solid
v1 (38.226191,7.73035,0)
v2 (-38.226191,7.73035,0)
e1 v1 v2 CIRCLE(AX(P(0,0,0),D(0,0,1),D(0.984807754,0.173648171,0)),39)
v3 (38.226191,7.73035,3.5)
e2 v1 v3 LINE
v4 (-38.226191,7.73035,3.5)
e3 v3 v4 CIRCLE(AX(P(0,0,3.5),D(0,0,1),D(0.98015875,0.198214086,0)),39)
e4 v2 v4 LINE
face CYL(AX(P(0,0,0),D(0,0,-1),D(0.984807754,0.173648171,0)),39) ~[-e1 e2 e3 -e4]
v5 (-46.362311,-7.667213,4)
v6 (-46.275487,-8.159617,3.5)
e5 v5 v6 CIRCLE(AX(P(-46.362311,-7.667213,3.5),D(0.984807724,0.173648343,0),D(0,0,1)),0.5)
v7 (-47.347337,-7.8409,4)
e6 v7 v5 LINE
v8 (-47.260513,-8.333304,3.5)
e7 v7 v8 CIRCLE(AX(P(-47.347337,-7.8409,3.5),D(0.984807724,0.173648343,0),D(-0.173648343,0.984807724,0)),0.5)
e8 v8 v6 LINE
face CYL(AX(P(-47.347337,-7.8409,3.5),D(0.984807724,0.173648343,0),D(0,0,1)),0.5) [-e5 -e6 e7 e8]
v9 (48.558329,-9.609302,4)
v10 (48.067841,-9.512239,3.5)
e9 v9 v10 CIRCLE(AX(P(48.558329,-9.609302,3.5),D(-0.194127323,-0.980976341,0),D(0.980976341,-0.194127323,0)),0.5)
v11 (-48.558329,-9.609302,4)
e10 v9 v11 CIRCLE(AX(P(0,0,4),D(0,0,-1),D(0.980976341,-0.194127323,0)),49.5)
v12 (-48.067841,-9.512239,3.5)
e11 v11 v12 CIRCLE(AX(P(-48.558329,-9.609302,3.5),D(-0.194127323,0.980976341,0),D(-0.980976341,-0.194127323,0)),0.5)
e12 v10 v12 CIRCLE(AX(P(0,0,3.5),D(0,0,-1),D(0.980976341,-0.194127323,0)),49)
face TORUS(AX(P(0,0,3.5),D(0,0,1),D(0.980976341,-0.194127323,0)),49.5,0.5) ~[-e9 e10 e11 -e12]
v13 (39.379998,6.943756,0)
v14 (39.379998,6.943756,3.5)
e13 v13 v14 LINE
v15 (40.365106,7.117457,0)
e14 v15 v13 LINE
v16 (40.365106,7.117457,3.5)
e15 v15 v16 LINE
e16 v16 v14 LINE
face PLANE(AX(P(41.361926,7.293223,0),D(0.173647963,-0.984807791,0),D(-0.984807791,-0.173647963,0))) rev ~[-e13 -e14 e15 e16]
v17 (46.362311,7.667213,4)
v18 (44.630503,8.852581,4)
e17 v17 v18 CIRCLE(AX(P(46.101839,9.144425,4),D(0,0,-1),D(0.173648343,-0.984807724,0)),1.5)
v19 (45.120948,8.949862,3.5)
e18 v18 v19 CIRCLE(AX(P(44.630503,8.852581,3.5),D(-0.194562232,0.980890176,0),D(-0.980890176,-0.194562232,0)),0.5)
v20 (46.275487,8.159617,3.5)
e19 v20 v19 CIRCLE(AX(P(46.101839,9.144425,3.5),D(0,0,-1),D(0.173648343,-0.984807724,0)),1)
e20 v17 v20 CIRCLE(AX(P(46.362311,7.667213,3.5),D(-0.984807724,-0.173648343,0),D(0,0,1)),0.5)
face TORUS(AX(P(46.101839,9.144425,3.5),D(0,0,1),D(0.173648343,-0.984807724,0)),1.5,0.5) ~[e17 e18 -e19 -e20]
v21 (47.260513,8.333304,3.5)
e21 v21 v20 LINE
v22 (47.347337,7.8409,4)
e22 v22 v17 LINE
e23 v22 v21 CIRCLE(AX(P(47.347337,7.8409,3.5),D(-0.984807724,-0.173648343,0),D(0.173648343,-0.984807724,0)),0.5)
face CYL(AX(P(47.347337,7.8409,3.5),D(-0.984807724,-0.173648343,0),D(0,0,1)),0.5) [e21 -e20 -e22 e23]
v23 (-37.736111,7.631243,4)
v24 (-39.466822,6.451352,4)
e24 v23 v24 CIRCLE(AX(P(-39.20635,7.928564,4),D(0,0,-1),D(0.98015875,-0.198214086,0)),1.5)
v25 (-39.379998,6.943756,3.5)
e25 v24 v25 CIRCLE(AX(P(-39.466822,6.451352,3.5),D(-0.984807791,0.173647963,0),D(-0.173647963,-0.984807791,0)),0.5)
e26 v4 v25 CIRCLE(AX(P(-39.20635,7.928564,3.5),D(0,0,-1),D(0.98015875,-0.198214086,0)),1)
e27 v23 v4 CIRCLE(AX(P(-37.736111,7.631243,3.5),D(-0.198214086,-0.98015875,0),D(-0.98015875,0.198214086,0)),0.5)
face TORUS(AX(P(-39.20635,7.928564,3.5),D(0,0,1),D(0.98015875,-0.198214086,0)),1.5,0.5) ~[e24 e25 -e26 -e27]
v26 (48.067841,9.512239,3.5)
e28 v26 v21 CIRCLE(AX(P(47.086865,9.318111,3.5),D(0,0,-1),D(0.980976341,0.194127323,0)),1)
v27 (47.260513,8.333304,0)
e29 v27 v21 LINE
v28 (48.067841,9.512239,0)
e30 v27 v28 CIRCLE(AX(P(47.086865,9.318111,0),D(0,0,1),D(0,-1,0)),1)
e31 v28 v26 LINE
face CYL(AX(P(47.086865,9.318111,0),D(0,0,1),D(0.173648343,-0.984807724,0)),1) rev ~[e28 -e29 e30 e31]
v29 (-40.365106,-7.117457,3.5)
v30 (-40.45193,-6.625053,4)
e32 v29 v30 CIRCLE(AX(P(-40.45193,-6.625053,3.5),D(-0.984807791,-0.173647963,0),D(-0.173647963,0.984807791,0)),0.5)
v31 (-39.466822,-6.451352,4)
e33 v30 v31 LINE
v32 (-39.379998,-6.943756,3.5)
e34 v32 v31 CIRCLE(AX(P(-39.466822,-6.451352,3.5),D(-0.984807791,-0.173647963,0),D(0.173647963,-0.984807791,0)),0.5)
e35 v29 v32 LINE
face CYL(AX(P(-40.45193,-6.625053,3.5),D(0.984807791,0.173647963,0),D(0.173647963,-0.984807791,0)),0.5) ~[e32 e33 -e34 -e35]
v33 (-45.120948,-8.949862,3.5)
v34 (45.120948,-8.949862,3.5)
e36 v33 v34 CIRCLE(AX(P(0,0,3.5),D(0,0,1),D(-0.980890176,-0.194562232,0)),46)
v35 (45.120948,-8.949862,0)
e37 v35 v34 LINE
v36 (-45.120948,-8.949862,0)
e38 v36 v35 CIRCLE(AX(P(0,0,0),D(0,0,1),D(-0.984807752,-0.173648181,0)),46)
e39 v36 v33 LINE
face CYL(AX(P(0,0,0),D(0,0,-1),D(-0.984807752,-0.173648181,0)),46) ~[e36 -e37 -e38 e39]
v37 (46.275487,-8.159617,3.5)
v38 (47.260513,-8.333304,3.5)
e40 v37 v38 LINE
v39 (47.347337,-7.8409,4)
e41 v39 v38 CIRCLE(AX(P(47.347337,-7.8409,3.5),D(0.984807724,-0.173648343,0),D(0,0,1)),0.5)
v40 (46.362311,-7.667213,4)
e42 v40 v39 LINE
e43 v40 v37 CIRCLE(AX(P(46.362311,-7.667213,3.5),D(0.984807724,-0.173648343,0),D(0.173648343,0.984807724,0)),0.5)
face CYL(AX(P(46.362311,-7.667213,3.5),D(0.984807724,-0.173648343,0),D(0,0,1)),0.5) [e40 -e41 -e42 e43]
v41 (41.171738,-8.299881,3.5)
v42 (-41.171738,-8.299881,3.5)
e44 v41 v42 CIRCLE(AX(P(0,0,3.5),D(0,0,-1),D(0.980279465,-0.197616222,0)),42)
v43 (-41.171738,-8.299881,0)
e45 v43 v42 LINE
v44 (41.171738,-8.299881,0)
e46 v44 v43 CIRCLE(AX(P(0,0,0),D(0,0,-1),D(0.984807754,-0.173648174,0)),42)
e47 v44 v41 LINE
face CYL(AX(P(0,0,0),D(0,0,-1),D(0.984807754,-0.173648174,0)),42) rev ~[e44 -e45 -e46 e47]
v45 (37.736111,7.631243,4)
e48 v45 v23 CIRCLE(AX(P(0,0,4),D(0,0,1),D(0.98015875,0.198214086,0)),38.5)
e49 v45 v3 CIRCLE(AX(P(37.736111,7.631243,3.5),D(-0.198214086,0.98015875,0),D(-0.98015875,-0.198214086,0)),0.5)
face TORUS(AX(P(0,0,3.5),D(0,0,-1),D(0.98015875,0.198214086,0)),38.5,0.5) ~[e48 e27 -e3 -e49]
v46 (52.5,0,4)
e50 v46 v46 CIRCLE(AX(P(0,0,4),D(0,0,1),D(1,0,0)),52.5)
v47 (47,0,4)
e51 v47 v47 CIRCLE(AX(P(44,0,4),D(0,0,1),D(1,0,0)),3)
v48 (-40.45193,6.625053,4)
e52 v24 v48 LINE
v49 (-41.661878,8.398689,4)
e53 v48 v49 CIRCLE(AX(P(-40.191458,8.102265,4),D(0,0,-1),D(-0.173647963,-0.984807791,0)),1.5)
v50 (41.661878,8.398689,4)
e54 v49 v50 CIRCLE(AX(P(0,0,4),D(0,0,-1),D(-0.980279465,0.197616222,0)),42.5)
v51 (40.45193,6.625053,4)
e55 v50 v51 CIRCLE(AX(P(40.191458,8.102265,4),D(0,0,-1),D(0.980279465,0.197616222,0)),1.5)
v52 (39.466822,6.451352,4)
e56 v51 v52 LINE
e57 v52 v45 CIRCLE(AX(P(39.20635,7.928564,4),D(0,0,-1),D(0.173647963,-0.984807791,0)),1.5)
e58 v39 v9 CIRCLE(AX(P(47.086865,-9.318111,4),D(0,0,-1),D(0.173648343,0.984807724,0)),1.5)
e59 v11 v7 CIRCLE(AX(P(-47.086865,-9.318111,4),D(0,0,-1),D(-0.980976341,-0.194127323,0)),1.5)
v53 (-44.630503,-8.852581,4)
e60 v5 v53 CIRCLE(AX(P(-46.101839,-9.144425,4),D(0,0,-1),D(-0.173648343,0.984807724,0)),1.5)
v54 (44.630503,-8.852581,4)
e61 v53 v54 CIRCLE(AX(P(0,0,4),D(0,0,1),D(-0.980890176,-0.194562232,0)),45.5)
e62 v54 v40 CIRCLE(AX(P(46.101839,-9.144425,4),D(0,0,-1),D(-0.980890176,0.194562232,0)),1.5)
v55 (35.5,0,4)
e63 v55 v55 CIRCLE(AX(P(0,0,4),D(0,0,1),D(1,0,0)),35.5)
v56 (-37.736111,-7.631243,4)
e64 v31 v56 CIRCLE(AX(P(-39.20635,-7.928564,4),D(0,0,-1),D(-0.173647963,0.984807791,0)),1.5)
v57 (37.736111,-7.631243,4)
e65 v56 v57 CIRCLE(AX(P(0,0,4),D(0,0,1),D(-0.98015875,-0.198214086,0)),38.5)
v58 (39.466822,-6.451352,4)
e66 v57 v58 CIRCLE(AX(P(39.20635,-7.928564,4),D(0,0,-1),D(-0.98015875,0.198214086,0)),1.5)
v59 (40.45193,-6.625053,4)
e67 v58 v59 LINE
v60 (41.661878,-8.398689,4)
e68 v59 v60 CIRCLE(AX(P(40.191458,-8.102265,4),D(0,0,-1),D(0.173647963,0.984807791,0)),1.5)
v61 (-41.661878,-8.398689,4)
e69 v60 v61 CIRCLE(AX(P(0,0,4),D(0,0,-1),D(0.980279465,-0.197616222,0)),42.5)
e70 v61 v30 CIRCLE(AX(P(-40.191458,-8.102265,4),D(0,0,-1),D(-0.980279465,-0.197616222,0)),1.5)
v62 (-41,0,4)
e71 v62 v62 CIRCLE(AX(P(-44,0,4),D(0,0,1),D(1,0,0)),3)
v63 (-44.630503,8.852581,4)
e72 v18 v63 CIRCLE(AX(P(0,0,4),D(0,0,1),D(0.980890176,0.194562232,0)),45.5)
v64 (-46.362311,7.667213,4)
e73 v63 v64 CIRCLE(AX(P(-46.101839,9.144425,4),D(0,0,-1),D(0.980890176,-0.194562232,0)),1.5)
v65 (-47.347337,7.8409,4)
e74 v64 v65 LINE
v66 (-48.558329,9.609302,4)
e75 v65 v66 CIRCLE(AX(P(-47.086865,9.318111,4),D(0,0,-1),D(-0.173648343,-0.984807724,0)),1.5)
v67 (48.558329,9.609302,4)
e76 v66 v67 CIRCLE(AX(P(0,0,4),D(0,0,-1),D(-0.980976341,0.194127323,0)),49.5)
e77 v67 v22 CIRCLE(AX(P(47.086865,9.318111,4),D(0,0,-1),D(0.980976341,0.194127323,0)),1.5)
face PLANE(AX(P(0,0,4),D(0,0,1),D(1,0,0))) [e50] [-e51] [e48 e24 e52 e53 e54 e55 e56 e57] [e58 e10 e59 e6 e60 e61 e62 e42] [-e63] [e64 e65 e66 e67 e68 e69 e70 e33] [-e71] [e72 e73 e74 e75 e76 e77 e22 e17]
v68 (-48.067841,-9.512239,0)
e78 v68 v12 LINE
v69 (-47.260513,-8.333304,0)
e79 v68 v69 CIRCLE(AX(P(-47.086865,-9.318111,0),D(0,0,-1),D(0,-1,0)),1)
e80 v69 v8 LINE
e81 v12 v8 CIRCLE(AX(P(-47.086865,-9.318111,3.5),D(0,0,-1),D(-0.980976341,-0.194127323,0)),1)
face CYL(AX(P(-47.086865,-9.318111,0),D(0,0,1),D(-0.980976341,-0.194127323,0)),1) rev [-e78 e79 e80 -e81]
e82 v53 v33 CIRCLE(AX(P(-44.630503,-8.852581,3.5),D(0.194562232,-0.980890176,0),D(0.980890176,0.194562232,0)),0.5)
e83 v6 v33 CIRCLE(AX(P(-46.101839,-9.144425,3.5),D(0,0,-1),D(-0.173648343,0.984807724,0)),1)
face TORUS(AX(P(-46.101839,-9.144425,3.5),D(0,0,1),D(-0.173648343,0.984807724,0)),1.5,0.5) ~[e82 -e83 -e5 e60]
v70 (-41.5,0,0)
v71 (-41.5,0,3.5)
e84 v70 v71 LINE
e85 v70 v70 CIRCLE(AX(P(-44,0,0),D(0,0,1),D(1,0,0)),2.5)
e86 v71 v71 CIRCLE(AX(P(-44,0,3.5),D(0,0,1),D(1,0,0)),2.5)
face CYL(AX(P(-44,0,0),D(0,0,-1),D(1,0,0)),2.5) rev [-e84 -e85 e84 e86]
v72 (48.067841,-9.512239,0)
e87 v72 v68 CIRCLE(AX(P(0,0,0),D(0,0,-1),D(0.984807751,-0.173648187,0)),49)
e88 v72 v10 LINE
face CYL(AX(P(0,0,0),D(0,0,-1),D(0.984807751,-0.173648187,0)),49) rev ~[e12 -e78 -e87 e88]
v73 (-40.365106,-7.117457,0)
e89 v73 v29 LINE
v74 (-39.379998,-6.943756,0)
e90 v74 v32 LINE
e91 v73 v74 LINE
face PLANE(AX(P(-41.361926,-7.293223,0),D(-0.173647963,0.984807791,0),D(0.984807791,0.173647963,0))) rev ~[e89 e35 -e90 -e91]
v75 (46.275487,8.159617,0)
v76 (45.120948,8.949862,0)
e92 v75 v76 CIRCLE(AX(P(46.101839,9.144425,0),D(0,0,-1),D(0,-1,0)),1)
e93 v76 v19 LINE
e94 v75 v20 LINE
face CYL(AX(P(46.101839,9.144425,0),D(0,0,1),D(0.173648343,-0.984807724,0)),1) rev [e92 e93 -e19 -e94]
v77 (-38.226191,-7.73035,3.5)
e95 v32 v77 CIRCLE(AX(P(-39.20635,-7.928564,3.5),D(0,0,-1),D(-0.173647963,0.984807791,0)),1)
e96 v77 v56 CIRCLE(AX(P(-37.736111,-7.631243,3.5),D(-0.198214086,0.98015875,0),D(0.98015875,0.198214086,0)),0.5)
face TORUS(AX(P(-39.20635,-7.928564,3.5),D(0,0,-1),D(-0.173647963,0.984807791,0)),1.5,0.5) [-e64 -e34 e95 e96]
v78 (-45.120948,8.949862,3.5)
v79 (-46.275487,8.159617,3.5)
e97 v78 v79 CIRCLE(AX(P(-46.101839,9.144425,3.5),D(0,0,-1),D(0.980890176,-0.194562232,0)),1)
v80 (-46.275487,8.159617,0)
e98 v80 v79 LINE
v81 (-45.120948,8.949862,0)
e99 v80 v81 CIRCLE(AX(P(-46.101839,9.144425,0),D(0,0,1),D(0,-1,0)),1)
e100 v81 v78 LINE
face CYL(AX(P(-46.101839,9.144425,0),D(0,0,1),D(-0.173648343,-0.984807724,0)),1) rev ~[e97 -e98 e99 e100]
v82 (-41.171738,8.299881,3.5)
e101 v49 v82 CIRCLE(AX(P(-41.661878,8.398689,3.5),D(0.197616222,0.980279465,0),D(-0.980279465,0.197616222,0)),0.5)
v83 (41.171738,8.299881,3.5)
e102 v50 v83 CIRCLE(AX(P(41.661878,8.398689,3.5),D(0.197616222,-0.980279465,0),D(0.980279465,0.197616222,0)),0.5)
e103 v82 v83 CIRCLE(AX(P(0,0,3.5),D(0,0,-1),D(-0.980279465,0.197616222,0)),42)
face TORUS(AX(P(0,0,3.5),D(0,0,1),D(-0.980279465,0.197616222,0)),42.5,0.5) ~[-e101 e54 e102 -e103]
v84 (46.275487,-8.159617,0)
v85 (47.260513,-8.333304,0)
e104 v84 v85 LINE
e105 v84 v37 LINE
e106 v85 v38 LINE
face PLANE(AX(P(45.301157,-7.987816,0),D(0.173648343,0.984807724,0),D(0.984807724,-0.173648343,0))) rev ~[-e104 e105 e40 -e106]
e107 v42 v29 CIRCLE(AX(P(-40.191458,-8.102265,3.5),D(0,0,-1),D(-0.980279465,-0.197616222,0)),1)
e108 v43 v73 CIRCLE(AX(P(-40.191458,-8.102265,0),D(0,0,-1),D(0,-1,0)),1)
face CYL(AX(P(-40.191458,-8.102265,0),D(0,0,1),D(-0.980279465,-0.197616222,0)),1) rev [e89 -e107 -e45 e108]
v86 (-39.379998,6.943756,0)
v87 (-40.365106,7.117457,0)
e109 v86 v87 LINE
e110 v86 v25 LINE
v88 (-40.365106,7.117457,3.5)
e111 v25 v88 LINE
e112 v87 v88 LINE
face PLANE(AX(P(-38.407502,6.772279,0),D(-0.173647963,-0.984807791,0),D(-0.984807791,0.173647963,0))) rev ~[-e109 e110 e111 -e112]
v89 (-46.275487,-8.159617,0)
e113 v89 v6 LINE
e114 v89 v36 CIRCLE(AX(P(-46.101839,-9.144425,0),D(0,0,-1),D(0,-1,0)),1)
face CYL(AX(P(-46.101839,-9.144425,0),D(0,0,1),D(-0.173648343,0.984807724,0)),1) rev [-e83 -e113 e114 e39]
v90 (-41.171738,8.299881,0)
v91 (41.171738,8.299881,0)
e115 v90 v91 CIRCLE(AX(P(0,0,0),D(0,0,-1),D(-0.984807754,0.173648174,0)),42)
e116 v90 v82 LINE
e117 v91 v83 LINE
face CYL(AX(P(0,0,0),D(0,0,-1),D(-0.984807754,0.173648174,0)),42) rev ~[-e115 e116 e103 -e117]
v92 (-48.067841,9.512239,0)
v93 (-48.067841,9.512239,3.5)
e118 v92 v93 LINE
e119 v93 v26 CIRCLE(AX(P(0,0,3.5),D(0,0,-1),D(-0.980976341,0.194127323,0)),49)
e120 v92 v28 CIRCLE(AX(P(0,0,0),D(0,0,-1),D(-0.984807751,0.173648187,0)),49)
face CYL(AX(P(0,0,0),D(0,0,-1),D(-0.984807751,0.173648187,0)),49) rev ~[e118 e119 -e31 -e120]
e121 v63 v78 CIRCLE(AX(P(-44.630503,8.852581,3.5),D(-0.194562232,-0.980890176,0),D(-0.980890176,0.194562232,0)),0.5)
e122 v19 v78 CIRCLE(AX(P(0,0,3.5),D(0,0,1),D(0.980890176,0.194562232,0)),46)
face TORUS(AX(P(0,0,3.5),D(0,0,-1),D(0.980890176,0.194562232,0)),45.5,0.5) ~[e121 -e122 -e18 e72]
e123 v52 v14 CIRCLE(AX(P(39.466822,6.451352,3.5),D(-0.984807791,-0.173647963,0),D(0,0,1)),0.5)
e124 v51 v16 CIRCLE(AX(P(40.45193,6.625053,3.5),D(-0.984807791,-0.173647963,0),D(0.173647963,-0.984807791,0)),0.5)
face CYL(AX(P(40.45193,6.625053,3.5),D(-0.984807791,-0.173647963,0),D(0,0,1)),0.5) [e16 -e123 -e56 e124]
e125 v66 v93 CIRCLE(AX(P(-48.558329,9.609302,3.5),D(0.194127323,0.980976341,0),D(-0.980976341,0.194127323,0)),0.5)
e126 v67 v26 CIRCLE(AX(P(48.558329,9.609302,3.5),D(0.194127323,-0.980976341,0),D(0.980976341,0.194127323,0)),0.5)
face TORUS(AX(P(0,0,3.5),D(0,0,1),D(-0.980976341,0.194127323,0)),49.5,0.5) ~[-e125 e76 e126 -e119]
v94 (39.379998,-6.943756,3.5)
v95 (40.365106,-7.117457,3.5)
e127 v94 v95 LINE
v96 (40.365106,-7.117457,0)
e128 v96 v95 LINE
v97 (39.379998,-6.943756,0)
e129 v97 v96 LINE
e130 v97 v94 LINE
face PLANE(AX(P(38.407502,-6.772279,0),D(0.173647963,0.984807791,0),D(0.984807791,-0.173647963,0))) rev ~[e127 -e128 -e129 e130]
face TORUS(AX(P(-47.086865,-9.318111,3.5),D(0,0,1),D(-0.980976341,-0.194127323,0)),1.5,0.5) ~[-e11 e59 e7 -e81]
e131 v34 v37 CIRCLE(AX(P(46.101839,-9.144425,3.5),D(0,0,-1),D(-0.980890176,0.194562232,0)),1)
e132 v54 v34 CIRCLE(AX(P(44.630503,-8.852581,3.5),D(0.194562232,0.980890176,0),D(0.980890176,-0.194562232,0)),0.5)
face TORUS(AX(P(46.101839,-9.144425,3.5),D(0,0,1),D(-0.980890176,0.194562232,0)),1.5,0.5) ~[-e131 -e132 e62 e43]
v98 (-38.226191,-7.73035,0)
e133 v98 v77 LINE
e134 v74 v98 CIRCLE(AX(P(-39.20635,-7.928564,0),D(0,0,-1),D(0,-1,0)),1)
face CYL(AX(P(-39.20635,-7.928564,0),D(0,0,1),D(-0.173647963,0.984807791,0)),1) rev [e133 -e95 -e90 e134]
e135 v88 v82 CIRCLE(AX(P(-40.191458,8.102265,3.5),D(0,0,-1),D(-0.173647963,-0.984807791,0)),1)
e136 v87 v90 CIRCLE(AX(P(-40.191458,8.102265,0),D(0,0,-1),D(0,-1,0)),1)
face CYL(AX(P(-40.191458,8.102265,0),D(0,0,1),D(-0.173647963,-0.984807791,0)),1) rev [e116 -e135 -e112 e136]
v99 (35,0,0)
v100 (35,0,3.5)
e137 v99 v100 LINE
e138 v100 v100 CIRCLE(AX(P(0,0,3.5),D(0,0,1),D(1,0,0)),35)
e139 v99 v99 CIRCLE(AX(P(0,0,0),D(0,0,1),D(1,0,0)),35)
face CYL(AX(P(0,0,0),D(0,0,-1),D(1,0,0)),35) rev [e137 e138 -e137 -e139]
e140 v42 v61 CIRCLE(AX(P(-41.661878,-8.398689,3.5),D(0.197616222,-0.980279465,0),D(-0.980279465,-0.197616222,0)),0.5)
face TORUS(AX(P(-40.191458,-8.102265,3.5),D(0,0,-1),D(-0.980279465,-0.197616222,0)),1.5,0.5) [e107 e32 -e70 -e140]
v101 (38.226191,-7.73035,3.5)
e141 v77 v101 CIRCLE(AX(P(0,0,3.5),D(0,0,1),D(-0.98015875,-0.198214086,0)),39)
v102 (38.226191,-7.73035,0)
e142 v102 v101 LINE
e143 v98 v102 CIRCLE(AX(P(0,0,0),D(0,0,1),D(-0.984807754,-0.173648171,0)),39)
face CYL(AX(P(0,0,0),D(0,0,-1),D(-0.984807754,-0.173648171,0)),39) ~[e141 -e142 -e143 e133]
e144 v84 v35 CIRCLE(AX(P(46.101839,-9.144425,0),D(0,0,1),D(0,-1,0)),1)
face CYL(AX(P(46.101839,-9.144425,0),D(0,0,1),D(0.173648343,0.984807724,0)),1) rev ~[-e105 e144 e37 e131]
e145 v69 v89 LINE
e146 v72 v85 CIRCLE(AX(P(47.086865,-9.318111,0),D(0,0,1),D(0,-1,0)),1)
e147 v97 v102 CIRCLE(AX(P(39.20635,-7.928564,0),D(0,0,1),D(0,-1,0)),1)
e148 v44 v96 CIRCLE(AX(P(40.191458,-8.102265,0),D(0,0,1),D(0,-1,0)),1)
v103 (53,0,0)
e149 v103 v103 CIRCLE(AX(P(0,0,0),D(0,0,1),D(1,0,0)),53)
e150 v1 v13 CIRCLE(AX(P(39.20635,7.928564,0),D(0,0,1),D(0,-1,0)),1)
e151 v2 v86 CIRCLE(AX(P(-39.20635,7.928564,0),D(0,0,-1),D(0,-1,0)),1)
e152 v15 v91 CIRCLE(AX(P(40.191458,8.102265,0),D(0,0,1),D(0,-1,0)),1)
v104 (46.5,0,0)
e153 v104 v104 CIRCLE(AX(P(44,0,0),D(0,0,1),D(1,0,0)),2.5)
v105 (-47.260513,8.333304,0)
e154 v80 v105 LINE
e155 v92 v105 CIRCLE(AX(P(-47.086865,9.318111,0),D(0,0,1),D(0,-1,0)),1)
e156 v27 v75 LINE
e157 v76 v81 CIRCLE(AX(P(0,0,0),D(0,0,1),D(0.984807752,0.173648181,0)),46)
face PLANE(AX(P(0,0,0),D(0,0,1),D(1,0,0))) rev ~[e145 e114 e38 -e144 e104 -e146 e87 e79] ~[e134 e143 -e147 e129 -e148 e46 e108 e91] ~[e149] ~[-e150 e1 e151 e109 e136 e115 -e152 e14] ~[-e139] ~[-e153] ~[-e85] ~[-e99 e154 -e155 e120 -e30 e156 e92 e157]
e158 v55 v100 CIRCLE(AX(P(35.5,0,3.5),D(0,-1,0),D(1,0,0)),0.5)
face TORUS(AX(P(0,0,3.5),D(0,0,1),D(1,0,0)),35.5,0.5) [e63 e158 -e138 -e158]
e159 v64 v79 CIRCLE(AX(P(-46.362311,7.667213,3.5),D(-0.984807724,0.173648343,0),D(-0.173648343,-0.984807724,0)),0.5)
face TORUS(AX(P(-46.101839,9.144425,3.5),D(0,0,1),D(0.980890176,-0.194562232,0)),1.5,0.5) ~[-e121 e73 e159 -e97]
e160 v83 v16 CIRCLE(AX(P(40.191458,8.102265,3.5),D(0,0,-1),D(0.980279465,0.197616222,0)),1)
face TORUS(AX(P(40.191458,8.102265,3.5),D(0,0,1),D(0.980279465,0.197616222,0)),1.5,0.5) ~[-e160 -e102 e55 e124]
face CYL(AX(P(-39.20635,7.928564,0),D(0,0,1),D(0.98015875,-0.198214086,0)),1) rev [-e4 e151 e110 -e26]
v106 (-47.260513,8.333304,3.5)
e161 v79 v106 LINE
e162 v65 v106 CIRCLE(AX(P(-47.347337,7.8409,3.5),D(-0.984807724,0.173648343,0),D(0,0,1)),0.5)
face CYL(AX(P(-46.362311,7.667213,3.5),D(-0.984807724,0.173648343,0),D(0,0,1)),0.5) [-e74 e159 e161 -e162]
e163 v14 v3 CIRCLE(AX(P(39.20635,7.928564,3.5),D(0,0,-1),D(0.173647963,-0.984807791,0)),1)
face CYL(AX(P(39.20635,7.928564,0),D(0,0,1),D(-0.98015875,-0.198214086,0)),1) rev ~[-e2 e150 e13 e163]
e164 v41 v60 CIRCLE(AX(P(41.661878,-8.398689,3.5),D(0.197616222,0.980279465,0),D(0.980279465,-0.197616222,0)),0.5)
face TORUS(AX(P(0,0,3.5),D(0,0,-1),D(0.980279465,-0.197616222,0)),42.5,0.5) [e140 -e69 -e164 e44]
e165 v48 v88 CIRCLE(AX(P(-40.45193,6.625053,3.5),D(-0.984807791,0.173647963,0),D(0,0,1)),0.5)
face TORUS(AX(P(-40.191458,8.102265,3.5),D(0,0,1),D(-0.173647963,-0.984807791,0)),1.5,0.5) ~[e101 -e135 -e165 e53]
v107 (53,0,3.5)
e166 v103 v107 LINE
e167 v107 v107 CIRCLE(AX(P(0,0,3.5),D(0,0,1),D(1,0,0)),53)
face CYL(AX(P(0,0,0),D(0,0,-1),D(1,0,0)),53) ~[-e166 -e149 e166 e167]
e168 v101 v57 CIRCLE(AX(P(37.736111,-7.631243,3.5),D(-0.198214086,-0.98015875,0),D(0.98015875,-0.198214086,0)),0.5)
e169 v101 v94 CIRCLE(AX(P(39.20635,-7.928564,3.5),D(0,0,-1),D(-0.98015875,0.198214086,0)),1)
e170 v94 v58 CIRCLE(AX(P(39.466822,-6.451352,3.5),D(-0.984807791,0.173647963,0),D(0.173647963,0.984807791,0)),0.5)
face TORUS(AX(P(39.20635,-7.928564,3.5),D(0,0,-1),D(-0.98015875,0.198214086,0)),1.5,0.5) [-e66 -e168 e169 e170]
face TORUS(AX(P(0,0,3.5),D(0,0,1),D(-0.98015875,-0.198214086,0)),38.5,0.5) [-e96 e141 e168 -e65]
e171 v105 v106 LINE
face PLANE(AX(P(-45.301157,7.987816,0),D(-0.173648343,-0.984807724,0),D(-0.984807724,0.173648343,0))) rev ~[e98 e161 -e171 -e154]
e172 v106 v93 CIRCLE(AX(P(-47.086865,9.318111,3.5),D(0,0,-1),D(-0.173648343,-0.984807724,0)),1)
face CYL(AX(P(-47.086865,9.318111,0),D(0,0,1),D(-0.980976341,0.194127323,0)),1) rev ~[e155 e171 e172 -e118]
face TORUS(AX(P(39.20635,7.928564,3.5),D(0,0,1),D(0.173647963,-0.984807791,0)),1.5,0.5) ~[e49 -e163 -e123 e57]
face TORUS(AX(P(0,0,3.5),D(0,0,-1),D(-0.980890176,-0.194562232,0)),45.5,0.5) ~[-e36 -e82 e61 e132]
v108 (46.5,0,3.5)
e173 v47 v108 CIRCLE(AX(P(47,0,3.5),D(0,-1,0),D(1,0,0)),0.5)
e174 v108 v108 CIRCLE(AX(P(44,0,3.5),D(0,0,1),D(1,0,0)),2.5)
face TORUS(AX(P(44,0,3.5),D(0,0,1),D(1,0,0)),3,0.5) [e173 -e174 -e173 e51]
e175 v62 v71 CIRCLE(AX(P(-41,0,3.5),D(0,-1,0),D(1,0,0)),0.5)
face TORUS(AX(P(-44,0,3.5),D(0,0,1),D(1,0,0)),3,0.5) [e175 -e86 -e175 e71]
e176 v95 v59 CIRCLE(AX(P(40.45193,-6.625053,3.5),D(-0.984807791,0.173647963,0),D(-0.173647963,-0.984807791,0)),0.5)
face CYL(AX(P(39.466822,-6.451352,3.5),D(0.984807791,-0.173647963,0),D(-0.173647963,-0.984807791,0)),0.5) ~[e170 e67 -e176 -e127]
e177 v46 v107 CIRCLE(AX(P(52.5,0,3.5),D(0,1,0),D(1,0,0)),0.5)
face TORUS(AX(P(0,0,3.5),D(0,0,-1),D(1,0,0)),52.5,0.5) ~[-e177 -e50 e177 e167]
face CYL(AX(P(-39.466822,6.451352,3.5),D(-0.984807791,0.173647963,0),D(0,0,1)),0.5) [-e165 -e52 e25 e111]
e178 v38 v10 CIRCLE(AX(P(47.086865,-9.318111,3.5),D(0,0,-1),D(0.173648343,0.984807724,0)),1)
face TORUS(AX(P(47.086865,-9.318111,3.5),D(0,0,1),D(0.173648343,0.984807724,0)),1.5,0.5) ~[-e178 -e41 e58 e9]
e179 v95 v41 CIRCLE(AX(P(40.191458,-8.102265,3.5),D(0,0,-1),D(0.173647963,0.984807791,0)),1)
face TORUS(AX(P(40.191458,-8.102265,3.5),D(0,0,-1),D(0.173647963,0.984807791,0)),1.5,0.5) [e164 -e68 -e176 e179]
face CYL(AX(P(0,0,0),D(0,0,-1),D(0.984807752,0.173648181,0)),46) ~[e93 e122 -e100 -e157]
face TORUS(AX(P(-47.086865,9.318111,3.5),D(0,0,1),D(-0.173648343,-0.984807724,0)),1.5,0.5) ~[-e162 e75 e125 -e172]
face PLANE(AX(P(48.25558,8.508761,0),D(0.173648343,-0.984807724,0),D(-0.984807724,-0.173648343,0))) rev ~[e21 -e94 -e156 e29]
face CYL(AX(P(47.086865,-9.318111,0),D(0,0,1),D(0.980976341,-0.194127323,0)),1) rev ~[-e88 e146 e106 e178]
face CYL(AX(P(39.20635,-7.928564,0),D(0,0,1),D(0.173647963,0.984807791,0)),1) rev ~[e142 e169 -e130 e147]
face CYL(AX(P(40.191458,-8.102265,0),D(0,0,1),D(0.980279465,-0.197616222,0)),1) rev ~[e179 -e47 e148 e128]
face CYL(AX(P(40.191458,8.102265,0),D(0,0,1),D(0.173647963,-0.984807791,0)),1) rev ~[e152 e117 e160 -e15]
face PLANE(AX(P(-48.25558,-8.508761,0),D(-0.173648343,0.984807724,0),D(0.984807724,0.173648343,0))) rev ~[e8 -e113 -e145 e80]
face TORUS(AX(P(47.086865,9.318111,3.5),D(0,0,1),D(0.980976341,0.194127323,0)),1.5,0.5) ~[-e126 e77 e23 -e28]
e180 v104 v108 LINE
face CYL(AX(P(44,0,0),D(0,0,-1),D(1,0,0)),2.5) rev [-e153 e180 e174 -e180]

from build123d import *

# Parameters (mm, degrees)
F0_R     = 53
F0_R_2   = 2.5
F0_R_3   = 35
F1_DEPTH = 4
F2_R     = 1
F3_R     = 0.5


with BuildPart() as f1:
    # F0 (on Top) → F1 (new body)
    with BuildSketch(Plane.XY):
        Circle(F0_R)
        with BuildLine():
            Line((-48.25558, -8.508761), (-45.301157, -7.987816))
            ThreePointArc((-45.301157, -7.987816), (0, -46), (45.301157, -7.987816))
            Line((45.301157, -7.987816), (48.25558, -8.508761))
            ThreePointArc((48.25558, -8.508761), (0, -49), (-48.25558, -8.508761))
        make_face(mode=Mode.SUBTRACT)
        with BuildLine():
            Line((-41.361926, -7.293223), (-38.407502, -6.772279))
            ThreePointArc((-38.407502, -6.772279), (0, -39), (38.407502, -6.772279))
            Line((38.407502, -6.772279), (41.361926, -7.293223))
            ThreePointArc((41.361926, -7.293223), (0, -42), (-41.361926, -7.293223))
        make_face(mode=Mode.SUBTRACT)
        with Locations((-44, 0)):
            Circle(F0_R_2, mode=Mode.SUBTRACT)
        Circle(F0_R_3, mode=Mode.SUBTRACT)
        with BuildLine():
            Line((-38.407502, 6.772279), (-41.361926, 7.293223))
            ThreePointArc((-41.361926, 7.293223), (0, 42), (41.361926, 7.293223))
            Line((41.361926, 7.293223), (38.407502, 6.772279))
            ThreePointArc((38.407502, 6.772279), (0, 39), (-38.407502, 6.772279))
        make_face(mode=Mode.SUBTRACT)
        with Locations((44, 0)):
            Circle(F0_R_2, mode=Mode.SUBTRACT)
        with BuildLine():
            ThreePointArc((45.301157, 7.987816), (0, 46), (-45.301157, 7.987816))
            Line((-45.301157, 7.987816), (-48.25558, 8.508761))
            ThreePointArc((-48.25558, 8.508761), (0, 49), (48.25558, 8.508761))
            Line((48.25558, 8.508761), (45.301157, 7.987816))
        make_face(mode=Mode.SUBTRACT)
    extrude(amount=F1_DEPTH)

    # F2
    f2_edges = [f1.edges().sort_by_distance(p)[0] for p in [
        (-48.25558, 8.508761, 2),
        (-45.301157, 7.987816, 2),
        (-38.407502, 6.772279, 2),
        (-41.361926, 7.293223, 2),
        (-38.407502, -6.772279, 2),
        (-45.301157, -7.987816, 2),
        (-41.361926, -7.293223, 2),
        (-48.25558, -8.508761, 2),
        (38.407502, -6.772279, 2),
        (45.301157, -7.987816, 2),
        (41.361926, -7.293223, 2),
        (48.25558, -8.508761, 2),
        (41.361926, 7.293223, 2),
        (48.25558, 8.508761, 2),
        (38.407502, 6.772279, 2),
        (45.301157, 7.987816, 2),
    ]]
    fillet(f2_edges, radius=F2_R)

    # F3
    f3_edges = [f1.edges().sort_by_distance(p)[0] for p in [
        (-53, 0, 4),
        (0, 49, 4),
        (0, 42, 4),
        (41.5, 0, 4),
        (0, -49, 4),
        (0, -42, 4),
        (-46.5, 0, 4),
        (-35, 0, 4),
    ]]
    fillet(f3_edges, radius=F3_R)


solid = f1.part
